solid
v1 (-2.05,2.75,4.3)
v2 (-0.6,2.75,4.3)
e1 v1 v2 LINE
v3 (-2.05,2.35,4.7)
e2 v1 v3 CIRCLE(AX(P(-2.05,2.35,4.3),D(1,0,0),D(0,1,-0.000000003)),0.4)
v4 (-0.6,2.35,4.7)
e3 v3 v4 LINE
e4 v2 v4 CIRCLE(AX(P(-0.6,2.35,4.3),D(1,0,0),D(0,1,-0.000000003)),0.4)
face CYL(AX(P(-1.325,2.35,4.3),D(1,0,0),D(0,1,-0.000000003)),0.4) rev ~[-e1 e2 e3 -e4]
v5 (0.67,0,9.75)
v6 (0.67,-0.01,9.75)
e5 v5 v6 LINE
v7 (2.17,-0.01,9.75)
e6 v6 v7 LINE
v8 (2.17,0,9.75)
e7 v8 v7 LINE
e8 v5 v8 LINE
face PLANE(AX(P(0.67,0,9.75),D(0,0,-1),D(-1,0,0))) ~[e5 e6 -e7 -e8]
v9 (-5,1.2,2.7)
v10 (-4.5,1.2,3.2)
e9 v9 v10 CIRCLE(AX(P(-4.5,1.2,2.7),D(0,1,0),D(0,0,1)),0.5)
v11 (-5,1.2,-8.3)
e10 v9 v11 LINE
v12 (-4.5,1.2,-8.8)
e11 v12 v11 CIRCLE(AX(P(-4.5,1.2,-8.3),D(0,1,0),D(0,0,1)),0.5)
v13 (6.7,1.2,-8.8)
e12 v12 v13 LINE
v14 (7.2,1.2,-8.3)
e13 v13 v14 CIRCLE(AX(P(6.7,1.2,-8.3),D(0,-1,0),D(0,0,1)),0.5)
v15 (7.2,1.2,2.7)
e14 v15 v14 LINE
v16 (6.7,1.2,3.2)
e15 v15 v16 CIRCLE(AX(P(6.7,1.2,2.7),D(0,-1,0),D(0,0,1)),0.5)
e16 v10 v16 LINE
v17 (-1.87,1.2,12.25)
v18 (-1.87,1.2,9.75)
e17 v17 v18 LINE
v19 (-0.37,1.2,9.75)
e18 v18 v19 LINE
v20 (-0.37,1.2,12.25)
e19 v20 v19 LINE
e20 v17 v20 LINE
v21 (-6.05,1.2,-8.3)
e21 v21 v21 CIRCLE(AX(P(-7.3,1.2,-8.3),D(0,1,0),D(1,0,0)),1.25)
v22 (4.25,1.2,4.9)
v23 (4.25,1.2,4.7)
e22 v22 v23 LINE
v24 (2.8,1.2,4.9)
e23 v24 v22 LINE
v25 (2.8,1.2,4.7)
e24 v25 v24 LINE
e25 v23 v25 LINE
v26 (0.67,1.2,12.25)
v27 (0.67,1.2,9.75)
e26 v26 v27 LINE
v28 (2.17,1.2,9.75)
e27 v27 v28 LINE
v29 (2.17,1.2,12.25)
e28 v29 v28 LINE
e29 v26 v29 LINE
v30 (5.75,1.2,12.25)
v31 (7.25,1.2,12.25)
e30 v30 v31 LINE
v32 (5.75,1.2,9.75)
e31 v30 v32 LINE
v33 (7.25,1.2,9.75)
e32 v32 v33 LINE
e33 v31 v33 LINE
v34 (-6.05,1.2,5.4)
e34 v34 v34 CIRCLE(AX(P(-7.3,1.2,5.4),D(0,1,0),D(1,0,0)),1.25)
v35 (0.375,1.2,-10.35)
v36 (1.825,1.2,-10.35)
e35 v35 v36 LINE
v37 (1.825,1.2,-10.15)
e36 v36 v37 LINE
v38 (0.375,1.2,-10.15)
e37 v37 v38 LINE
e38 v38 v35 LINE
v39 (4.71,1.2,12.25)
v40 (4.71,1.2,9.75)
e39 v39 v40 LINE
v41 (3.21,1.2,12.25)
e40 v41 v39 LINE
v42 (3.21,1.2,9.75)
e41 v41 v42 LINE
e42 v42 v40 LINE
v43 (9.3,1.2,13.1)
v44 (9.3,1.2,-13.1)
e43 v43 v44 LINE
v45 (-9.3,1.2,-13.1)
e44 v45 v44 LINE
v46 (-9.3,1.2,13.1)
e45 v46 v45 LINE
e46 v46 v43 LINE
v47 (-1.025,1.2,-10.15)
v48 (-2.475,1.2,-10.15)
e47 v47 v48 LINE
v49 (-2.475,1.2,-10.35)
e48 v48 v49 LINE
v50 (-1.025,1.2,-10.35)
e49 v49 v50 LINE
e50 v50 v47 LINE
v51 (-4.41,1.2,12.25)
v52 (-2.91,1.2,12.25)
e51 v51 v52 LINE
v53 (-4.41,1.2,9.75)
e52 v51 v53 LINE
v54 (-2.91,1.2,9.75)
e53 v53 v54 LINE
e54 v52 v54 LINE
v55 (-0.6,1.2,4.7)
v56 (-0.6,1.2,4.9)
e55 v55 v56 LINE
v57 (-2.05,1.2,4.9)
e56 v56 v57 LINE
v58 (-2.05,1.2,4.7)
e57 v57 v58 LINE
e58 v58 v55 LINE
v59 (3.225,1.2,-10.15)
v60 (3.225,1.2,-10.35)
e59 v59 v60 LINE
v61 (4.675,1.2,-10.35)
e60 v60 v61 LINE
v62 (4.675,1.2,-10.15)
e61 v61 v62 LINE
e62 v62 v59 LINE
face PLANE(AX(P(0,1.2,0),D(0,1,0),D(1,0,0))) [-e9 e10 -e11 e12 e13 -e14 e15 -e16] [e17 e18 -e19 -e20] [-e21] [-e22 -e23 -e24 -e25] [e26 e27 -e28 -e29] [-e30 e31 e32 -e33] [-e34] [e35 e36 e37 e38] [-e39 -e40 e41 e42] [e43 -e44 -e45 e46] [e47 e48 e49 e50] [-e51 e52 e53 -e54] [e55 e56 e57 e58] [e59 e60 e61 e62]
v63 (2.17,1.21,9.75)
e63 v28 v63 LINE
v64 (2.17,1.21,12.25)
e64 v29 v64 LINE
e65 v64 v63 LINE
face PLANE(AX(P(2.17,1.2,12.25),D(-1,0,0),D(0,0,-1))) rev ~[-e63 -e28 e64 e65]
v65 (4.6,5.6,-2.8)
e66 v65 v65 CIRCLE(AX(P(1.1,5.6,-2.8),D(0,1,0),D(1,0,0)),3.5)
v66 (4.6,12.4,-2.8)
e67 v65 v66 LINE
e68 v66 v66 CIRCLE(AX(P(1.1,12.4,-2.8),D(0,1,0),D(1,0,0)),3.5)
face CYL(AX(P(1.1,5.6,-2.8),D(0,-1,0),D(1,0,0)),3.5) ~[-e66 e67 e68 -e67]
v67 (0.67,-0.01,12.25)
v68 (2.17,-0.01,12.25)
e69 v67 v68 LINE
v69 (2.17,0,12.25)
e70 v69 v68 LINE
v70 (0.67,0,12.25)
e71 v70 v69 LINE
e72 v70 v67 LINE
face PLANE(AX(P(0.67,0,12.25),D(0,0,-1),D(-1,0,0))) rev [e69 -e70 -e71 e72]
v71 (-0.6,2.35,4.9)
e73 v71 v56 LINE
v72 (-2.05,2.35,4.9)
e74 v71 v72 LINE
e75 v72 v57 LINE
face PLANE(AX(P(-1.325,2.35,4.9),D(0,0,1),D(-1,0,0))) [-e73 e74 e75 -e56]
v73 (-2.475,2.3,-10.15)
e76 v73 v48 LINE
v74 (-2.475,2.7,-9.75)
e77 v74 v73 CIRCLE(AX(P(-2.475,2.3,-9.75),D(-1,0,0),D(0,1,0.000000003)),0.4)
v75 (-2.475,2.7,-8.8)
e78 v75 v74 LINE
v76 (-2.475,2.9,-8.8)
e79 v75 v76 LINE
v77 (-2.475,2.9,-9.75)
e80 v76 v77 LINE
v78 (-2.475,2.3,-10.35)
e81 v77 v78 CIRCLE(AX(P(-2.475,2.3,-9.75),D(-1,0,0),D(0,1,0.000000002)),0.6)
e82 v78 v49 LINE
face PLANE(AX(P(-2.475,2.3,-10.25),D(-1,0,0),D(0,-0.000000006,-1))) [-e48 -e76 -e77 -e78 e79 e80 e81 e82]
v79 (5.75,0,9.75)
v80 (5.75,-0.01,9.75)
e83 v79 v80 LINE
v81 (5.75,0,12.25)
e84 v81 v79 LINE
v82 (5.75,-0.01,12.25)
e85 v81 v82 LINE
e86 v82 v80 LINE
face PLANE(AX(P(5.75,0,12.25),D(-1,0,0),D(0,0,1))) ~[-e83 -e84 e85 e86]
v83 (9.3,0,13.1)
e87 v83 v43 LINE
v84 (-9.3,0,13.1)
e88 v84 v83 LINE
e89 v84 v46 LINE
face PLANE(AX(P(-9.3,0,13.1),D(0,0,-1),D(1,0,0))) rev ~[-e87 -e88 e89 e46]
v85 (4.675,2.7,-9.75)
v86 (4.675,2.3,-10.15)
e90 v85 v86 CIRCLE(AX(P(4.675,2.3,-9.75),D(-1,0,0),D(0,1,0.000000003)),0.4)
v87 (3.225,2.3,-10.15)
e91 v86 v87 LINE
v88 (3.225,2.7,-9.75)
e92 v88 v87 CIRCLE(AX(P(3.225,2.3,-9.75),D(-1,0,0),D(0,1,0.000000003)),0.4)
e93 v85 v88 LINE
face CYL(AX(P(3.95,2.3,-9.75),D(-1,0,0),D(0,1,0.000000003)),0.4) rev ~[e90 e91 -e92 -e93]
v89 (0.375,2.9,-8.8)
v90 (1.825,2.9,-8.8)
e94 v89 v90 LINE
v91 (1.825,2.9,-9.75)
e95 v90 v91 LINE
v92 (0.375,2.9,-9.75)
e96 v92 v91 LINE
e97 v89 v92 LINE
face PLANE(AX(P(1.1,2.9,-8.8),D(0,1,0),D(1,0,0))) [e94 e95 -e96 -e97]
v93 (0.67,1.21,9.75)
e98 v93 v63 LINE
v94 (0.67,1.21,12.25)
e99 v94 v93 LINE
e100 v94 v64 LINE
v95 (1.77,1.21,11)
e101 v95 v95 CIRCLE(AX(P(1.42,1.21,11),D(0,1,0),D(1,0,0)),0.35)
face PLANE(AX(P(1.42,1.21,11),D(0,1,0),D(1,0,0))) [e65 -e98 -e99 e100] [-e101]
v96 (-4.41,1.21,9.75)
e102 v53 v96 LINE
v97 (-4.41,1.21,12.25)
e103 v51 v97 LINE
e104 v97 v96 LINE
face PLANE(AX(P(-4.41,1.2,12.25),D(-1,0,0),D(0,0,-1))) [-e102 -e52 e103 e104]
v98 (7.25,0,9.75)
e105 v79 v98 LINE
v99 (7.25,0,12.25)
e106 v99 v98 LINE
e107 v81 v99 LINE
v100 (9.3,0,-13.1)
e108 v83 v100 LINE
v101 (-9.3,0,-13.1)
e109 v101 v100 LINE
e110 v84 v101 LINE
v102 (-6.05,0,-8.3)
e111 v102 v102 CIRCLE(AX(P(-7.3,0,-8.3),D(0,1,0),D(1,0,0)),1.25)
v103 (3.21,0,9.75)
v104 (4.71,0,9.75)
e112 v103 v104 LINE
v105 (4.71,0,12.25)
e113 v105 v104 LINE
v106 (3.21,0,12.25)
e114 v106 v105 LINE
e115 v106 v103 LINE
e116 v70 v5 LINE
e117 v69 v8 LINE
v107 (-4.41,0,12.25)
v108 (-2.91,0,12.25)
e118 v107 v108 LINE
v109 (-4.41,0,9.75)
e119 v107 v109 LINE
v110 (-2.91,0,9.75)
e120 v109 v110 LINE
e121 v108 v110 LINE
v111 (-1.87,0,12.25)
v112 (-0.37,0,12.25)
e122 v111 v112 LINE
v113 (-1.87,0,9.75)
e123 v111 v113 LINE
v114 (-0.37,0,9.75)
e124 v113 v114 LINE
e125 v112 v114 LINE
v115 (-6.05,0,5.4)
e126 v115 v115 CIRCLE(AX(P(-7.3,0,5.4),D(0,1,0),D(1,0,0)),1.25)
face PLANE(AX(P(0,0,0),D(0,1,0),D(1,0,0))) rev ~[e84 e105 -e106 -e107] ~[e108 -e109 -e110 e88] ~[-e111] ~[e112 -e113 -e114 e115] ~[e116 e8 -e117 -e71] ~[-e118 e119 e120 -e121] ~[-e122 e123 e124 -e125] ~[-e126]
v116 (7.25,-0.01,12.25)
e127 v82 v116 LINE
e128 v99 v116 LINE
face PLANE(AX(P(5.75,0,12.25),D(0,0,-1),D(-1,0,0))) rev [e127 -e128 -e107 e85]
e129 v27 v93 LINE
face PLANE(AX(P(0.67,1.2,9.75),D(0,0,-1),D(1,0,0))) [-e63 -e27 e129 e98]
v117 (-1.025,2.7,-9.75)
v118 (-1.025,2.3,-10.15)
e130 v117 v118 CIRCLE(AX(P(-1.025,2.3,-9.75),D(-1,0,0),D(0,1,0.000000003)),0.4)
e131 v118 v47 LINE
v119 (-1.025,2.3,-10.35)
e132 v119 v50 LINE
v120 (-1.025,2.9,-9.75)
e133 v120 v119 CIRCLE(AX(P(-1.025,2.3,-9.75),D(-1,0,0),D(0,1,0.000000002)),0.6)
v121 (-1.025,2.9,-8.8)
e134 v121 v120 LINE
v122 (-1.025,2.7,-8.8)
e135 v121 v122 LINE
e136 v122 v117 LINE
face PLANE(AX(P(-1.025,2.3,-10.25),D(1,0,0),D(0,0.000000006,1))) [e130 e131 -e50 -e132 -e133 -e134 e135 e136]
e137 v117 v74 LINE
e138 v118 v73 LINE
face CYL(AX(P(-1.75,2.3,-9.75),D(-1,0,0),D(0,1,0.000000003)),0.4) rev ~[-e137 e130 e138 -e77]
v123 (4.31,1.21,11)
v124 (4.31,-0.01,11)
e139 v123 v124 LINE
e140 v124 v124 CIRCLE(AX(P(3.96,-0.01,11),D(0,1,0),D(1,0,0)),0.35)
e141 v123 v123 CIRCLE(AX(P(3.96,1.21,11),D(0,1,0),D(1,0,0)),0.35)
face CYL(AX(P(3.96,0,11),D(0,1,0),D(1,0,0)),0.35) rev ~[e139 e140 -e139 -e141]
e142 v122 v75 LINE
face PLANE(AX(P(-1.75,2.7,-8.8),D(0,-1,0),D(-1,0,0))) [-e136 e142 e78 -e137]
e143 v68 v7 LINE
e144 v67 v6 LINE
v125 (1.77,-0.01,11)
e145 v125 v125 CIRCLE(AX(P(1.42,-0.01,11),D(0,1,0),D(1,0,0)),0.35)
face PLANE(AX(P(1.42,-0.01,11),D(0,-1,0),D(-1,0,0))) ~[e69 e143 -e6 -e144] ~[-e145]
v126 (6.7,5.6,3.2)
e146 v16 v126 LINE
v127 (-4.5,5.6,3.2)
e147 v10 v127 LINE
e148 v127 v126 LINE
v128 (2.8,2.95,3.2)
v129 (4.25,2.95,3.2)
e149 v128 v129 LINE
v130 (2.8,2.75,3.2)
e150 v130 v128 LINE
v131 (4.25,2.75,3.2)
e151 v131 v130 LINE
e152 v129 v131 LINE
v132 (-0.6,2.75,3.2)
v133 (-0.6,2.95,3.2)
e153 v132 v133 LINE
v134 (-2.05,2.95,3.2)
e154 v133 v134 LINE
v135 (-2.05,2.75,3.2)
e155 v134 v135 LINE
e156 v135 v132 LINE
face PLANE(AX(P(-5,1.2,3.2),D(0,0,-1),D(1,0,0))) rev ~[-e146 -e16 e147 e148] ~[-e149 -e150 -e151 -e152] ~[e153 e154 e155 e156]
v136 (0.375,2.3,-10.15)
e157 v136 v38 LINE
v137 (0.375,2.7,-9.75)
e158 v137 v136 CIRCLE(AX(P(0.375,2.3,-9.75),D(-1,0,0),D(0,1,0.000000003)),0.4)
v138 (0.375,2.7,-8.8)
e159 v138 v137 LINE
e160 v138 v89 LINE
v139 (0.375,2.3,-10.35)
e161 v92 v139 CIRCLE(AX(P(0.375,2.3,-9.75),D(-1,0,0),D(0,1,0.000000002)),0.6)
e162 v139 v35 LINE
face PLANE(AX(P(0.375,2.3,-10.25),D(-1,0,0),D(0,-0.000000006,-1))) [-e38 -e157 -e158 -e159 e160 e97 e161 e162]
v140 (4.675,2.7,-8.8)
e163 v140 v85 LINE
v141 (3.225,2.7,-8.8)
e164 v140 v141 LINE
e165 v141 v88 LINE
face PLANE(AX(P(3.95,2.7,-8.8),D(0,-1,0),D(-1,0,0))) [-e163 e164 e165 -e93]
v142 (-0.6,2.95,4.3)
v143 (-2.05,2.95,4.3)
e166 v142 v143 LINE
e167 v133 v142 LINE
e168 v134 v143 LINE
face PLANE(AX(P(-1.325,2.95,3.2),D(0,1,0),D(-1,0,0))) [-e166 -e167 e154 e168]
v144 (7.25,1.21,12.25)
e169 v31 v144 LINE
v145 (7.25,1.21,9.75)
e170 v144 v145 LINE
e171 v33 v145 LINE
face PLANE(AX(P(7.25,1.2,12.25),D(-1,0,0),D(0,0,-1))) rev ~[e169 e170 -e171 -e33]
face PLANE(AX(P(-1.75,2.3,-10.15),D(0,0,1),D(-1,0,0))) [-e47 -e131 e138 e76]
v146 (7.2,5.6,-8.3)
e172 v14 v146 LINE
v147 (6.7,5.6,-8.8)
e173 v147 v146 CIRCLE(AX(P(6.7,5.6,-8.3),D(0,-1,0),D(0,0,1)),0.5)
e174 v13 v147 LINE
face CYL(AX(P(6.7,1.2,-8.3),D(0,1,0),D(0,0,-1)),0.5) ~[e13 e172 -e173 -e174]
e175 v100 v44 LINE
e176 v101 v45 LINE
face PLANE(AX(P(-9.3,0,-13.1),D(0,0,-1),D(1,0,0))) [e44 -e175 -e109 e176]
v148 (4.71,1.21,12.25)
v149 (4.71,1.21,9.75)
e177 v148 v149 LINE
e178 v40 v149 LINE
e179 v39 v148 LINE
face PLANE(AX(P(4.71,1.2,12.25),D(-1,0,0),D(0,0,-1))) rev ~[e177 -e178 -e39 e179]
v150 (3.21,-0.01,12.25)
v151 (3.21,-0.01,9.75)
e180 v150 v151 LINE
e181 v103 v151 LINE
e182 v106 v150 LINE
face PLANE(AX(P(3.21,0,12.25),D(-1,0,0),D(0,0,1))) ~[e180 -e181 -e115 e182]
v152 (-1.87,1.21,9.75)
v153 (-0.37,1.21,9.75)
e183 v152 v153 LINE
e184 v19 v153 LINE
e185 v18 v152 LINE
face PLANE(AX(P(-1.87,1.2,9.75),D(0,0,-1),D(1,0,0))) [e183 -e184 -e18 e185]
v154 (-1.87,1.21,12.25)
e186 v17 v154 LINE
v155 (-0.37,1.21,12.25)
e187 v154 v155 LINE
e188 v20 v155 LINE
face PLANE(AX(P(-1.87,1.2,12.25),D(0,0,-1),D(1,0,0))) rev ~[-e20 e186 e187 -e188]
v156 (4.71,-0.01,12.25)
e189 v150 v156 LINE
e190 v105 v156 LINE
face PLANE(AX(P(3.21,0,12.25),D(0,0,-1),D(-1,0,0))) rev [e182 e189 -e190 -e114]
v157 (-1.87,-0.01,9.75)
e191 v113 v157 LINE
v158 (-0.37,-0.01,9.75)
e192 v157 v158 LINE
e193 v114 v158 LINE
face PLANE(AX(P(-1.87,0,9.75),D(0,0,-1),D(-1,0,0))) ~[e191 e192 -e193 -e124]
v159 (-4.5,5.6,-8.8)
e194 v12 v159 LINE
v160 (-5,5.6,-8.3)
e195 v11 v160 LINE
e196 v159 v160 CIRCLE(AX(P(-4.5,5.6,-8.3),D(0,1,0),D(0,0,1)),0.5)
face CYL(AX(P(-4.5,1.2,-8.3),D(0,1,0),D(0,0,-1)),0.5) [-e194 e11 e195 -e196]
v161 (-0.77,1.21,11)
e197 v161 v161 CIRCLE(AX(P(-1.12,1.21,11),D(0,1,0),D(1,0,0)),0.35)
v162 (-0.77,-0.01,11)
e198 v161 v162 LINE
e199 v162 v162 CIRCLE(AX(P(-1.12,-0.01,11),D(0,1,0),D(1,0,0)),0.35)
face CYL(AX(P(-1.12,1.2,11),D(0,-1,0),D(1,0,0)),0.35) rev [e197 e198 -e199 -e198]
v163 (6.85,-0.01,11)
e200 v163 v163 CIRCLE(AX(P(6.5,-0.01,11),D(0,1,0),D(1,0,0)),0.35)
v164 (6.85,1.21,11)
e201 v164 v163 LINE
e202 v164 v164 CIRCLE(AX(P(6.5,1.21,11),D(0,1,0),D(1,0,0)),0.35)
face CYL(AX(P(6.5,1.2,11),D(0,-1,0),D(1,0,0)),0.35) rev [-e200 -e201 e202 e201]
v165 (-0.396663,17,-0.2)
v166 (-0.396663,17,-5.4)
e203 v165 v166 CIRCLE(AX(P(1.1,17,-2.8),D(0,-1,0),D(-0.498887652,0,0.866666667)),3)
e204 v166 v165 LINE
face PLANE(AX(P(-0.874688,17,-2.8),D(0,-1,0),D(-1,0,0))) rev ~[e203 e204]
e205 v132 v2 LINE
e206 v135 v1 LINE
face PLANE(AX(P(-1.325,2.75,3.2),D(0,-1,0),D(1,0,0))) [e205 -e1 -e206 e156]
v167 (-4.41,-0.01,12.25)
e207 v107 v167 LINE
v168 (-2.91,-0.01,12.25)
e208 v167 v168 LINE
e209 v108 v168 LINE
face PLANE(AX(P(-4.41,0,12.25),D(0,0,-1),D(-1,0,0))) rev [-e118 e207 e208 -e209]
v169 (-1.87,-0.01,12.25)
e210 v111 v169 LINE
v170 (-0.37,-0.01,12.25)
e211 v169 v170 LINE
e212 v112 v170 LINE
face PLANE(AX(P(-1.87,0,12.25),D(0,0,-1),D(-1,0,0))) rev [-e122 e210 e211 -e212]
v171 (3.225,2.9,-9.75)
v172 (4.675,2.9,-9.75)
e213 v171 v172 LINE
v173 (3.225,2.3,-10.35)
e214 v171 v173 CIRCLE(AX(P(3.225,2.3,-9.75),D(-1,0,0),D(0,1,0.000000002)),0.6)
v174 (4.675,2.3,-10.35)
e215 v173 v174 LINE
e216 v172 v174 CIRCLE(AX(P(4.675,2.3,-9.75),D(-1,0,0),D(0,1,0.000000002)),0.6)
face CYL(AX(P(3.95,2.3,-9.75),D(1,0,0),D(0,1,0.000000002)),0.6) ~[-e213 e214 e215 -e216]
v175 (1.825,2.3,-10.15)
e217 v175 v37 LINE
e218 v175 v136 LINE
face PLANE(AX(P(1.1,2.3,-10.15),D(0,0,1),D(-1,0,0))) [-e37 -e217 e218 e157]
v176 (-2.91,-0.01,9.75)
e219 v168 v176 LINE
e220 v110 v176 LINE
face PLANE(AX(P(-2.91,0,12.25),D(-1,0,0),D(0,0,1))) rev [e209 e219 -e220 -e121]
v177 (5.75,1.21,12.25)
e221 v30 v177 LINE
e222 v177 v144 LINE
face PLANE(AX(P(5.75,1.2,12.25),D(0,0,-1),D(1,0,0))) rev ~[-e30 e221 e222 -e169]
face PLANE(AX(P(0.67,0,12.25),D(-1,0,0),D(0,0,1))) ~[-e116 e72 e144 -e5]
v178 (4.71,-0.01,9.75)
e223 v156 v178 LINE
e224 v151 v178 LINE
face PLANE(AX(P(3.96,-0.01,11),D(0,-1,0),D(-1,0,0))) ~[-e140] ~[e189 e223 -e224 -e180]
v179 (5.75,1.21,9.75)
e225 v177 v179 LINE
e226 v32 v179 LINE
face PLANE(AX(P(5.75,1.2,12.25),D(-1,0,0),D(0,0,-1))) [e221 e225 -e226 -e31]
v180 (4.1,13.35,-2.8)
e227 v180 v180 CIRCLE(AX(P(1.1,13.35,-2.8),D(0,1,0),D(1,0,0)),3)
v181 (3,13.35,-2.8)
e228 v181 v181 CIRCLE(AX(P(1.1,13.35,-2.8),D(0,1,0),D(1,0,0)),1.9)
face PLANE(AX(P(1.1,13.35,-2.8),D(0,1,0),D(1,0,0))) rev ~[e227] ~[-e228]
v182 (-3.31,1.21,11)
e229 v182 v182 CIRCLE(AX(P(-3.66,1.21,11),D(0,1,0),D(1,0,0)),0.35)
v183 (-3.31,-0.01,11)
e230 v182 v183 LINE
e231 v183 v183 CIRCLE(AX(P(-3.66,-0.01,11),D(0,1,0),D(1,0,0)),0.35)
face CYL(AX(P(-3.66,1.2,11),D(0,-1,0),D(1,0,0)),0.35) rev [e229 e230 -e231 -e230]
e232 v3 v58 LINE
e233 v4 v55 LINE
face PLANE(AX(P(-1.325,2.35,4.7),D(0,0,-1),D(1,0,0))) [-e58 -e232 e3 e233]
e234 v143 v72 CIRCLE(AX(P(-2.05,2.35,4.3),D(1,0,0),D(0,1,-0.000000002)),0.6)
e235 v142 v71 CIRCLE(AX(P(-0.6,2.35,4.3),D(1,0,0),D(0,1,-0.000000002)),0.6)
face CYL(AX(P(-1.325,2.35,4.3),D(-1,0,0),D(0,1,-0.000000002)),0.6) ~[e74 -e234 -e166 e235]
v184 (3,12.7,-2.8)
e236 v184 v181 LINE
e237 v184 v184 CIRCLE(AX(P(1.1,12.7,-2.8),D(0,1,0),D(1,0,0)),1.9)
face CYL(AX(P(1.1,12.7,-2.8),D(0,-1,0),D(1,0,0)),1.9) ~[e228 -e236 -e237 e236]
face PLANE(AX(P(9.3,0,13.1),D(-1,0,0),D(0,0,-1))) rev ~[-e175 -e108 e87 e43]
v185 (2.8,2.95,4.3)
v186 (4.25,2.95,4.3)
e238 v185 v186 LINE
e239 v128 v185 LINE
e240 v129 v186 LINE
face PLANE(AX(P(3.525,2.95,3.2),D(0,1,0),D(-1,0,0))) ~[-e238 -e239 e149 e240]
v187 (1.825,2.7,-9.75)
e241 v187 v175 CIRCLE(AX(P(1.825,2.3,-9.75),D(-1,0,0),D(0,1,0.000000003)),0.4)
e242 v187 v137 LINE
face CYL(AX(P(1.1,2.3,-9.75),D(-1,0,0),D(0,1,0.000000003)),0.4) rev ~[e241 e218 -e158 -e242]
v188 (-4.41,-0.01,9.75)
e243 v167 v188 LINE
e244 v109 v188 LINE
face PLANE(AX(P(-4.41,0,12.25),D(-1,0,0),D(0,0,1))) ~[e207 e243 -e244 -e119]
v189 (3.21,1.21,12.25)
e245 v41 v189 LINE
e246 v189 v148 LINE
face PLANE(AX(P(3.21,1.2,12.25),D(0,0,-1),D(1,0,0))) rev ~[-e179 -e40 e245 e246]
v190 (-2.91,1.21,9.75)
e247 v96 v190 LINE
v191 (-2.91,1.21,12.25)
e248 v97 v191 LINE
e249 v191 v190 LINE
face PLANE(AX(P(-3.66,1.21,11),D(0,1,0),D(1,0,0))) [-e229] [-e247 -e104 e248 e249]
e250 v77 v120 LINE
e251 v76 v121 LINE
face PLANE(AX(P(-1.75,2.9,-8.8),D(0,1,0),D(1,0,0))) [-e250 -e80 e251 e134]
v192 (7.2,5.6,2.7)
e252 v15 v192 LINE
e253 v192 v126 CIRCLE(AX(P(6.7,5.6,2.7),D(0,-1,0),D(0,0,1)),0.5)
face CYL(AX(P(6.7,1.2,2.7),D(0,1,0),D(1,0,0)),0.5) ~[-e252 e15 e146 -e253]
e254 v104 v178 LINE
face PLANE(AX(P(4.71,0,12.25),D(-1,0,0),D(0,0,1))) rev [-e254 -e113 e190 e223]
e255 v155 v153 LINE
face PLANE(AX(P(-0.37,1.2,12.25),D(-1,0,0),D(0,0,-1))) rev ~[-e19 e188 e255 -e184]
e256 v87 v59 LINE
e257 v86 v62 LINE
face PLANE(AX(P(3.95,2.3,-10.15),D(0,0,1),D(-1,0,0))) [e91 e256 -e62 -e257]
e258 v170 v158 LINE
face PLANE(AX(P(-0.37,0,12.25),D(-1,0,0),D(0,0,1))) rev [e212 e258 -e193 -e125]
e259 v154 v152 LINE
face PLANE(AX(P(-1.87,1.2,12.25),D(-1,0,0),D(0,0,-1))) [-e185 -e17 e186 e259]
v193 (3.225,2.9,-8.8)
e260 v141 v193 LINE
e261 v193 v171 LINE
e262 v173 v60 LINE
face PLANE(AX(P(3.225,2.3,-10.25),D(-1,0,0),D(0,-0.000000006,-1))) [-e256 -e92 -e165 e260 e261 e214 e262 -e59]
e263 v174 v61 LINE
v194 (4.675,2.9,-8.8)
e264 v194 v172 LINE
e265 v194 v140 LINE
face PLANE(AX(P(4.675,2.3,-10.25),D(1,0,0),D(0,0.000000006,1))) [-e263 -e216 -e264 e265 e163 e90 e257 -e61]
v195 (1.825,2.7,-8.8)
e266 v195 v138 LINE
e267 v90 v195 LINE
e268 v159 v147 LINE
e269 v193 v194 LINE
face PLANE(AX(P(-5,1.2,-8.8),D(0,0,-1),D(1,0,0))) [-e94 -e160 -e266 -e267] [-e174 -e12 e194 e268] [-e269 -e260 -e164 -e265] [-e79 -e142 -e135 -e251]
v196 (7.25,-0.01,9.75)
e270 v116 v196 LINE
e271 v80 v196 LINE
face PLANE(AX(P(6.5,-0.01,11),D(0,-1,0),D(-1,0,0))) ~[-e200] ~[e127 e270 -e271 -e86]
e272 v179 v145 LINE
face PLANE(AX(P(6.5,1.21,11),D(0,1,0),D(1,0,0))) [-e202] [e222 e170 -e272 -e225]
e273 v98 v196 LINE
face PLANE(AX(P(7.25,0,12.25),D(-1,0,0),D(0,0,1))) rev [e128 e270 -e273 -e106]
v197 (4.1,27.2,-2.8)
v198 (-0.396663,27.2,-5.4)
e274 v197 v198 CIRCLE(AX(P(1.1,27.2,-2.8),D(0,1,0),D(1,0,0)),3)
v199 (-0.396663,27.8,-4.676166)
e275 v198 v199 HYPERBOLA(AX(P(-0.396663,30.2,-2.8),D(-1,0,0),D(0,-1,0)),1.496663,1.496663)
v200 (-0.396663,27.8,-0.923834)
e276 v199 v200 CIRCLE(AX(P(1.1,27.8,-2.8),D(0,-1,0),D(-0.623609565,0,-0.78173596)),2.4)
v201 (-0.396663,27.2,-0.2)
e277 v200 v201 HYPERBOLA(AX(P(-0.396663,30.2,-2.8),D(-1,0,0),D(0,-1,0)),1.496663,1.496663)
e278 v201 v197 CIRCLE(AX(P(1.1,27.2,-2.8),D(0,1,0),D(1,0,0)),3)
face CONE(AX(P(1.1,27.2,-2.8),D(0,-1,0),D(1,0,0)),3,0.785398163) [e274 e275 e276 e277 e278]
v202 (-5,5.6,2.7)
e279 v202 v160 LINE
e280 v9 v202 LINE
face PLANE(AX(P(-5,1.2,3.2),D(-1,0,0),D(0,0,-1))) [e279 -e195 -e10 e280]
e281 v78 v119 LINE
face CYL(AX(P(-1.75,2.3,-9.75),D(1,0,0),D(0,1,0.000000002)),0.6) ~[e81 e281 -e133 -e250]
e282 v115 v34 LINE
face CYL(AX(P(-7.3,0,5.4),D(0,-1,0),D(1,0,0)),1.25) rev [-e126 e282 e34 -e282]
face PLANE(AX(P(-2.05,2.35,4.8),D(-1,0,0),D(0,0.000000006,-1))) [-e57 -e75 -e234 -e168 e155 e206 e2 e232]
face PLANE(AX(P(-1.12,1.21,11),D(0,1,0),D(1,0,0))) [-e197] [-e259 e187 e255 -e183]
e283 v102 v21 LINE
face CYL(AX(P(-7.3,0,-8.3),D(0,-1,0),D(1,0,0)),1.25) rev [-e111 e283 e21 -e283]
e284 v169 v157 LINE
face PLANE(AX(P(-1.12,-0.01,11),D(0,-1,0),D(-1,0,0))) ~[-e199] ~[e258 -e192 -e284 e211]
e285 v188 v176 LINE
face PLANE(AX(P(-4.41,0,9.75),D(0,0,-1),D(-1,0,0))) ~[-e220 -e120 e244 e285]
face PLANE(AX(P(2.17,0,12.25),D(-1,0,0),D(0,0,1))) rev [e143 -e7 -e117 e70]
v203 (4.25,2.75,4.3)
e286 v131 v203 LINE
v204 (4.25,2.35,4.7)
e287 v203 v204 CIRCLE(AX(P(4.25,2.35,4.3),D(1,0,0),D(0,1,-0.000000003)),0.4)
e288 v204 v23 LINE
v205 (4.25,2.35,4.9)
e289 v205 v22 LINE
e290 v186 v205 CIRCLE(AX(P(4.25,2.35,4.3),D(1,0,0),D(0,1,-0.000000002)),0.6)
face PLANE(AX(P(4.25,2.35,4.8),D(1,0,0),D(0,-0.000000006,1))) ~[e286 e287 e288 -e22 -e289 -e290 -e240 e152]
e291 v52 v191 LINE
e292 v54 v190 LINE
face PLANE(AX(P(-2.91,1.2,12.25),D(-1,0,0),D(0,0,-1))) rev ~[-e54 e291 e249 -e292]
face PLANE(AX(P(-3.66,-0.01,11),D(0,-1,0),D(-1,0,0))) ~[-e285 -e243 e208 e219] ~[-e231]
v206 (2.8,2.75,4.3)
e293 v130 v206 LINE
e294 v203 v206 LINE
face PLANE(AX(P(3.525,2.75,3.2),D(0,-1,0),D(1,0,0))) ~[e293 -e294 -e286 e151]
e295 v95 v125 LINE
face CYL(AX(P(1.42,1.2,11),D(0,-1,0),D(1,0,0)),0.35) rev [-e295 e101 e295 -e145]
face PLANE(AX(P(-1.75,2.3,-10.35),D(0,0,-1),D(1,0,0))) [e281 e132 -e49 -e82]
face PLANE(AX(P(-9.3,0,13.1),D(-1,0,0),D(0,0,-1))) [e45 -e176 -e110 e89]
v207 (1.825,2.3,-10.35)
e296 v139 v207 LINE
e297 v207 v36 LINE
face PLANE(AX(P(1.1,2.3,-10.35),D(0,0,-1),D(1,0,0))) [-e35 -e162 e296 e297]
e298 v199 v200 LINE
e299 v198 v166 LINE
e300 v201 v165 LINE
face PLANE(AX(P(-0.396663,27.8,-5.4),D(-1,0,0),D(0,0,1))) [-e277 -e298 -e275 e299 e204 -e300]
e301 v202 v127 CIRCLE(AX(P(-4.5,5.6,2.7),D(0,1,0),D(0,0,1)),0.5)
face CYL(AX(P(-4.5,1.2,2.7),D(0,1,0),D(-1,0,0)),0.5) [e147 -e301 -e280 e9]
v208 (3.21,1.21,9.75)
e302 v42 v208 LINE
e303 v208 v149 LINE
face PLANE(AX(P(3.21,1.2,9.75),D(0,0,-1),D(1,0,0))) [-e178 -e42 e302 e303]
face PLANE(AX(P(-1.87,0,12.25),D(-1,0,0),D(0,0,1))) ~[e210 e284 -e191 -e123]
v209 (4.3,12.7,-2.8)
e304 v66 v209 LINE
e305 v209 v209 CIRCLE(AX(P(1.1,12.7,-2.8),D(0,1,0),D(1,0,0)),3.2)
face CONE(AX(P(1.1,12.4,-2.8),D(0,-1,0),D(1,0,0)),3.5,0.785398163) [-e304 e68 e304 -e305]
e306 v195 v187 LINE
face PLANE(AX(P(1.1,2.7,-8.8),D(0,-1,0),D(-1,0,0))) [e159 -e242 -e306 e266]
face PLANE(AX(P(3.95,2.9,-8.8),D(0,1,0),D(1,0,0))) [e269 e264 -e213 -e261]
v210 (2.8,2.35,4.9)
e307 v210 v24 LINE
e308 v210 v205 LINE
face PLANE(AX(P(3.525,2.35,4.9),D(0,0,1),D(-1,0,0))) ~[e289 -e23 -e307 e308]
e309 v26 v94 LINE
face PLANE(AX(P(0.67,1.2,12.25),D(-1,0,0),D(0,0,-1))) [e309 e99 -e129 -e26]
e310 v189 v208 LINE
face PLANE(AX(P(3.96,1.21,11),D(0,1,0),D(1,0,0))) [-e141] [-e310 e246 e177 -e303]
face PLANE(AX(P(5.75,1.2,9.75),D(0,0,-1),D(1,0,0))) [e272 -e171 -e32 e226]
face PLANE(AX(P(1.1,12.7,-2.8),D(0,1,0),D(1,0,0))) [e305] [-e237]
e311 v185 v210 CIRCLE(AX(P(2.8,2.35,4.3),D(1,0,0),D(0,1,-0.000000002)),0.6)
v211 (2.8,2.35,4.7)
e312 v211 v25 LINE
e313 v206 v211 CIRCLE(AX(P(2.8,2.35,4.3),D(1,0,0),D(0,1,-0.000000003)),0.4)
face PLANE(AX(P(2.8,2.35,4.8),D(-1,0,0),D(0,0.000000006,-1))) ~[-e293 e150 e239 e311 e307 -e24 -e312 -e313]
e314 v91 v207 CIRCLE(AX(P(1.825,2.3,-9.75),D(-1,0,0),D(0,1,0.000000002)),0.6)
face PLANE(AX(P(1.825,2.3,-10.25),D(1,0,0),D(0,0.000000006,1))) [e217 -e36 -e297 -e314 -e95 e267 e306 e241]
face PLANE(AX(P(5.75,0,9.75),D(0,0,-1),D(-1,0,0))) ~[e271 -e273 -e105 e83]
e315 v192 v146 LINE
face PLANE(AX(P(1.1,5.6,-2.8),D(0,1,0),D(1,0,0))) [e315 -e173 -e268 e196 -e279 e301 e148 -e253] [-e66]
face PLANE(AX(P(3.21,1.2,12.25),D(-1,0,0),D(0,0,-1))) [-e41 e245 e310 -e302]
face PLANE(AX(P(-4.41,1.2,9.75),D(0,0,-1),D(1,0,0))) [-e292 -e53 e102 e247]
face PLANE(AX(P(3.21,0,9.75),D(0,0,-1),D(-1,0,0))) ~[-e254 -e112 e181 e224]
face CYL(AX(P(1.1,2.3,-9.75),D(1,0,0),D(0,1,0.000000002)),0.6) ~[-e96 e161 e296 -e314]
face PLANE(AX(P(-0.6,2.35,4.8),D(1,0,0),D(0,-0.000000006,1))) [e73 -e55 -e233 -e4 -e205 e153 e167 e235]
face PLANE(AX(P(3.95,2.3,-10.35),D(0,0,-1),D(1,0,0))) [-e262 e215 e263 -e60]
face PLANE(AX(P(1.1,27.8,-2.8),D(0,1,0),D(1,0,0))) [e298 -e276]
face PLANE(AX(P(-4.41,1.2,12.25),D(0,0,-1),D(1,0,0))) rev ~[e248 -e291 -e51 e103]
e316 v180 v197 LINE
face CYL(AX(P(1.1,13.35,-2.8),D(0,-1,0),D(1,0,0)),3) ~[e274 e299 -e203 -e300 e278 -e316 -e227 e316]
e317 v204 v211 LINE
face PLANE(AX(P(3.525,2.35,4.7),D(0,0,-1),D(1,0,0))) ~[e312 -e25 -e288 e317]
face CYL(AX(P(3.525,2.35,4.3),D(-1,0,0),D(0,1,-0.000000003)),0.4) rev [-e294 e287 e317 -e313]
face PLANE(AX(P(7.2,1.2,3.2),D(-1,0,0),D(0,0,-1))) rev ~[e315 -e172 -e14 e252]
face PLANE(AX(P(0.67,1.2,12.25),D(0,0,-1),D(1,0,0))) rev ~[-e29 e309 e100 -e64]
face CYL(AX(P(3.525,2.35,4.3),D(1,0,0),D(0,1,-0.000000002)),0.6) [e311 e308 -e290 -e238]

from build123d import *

# Parameters (mm, degrees)
SKETCH1_W           = 18.6
SKETCH1_H           = 26.2
SKETCH1_R           = 1.25
BOSS_EXTRUDE1_DEPTH = 1.2
SKETCH3_W           = 12.2
SKETCH3_H           = 12
BOSS_EXTRUDE2_DEPTH = 4.4
SKETCH10_W          = 1.45
SKETCH10_H          = 0.2
SKETCH13_W          = 1.45
SKETCH13_H          = 0.2
LPATTERN1_COUNT     = 2
LPATTERN1_PITCH     = 2.85
LPATTERN2_COUNT     = 2
LPATTERN2_PITCH     = 2.85
SKETCH14_R          = 3.5
BOSS_EXTRUDE4_DEPTH = 7.1
CHAMFER1_SIZE       = 0.3
SKETCH15_R          = 1.9
BOSS_EXTRUDE5_DEPTH = 0.65
SKETCH16_R          = 3
BOSS_EXTRUDE6_DEPTH = 14.45
CHAMFER2_SIZE       = 0.6
CUT_EXTRUDE1_DEPTH  = 10.8
SKETCH18_R          = 0.35
CUT_EXTRUDE2_DEPTH  = 1.2
SKETCH19_W          = 1.5
SKETCH19_H          = 2.5
SKETCH19_R          = 0.35
BOSS_EXTRUDE7_DEPTH = 0.01
FILLET1_R           = 0.5


with BuildPart() as part:
    # Sketch1 → Boss-Extrude1 (new body)
    with BuildSketch(Plane(origin=(0, 0, 0), x_dir=(1, 0, 0), z_dir=(0, 1, 0))):
        Rectangle(SKETCH1_W, SKETCH1_H)
        with Locations((-7.3, 8.3)):
            Circle(SKETCH1_R, mode=Mode.SUBTRACT)
        with Locations((-7.3, -5.4)):
            Circle(SKETCH1_R, mode=Mode.SUBTRACT)
    extrude(amount=BOSS_EXTRUDE1_DEPTH)

    # Sketch3 → Boss-Extrude2 (add)
    with BuildSketch(Plane(origin=(0, 1.2, 0), x_dir=(1, 0, 0), z_dir=(0, 1, 0))):
        with Locations((1.1, 2.8)):
            Rectangle(SKETCH3_W, SKETCH3_H)
    extrude(amount=BOSS_EXTRUDE2_DEPTH)

    # Sweep3: sweep along a curve in space
    with BuildLine() as sweep3_path:
        Line((-1.325, 2.85, 3.2), (-1.325, 2.85, 4.3))
        ThreePointArc((-1.325, 2.85, 4.3), (-1.325, 2.703553391, 4.653553391), (-1.325, 2.35, 4.8))
        Line((-1.325, 2.35, 4.8), (-1.325, 1.2, 4.8))
    # Sketch10 → Sweep3 (sweep)
    with BuildSketch(Plane.XY.offset(3.2)):
        with Locations((-1.325, 2.85)):
            Rectangle(SKETCH10_W, SKETCH10_H)
    sweep3 = sweep(path=sweep3_path.line)

    # Mirror2: Sweep3 across plane
    add(sweep3.mirror(Plane.ZY.offset(-1.1)))

    # Sweep4: sweep along a curve in space
    with BuildLine() as sweep4_path:
        Line((1.1, 2.8, -8.8), (1.1, 2.8, -9.75))
        ThreePointArc((1.1, 2.8, -9.75), (1.1, 2.653553391, -10.103553391), (1.1, 2.3, -10.25))
        Line((1.1, 2.3, -10.25), (1.1, 1.2, -10.25))
    # Sketch13 → Sweep4 (sweep)
    with BuildSketch(Plane(origin=(0, 0, -8.8), x_dir=(-1, 0, 0), z_dir=(0, 0, -1))):
        with Locations((-1.1, 2.8)):
            Rectangle(SKETCH13_W, SKETCH13_H)
    sweep4 = sweep(path=sweep4_path.line)

    # LPattern1: Sweep4 ×2
    with Locations(*[(-i * LPATTERN1_PITCH, 0, 0) for i in range(1, LPATTERN1_COUNT)]):
        add(sweep4)

    # LPattern2: Sweep4 ×2
    with Locations(*[(i * LPATTERN2_PITCH, 0, 0) for i in range(1, LPATTERN2_COUNT)]):
        add(sweep4)

    # Sketch14 → Boss-Extrude4 (add)
    with BuildSketch(Plane(origin=(0, 5.6, 0), x_dir=(1, 0, 0), z_dir=(0, 1, 0))):
        with Locations((1.1, 2.8)):
            Circle(SKETCH14_R)
    extrude(amount=BOSS_EXTRUDE4_DEPTH)

    # Chamfer1
    chamfer1_edges = [part.edges().sort_by_distance(p)[0] for p in [
        (-2.4, 12.7, -2.8),
    ]]
    chamfer(chamfer1_edges, length=CHAMFER1_SIZE)

    # Sketch15 → Boss-Extrude5 (add)
    with BuildSketch(Plane(origin=(0, 12.7, 0), x_dir=(1, 0, 0), z_dir=(0, 1, 0))):
        with Locations((1.1, 2.8)):
            Circle(SKETCH15_R)
    extrude(amount=BOSS_EXTRUDE5_DEPTH)

    # Sketch16 → Boss-Extrude6 (add)
    with BuildSketch(Plane(origin=(0, 13.35, 0), x_dir=(1, 0, 0), z_dir=(0, 1, 0))):
        with Locations((1.1, 2.8)):
            Circle(SKETCH16_R)
    extrude(amount=BOSS_EXTRUDE6_DEPTH)

    # Chamfer2
    chamfer2_edges = [part.edges().sort_by_distance(p)[0] for p in [
        (-1.9, 27.8, -2.8),
    ]]
    chamfer(chamfer2_edges, length=CHAMFER2_SIZE)

    # Sketch17 → Cut-Extrude1 (cut)
    with BuildSketch(Plane(origin=(0, 27.8, 0), x_dir=(1, 0, 0), z_dir=(0, 1, 0))):
        with BuildLine():
            Line((-0.396662955, 5.4), (-0.396662955, 0.2))
            ThreePointArc((-0.396662955, 0.2), (-1.9, 2.8), (-0.396662955, 5.4))
        make_face()
    extrude(amount=-CUT_EXTRUDE1_DEPTH, mode=Mode.SUBTRACT)

    # Sketch18 → Cut-Extrude2 (cut)
    with BuildSketch(Plane(origin=(0, 1.2, 0), x_dir=(1, 0, 0), z_dir=(0, 1, 0))):
        with Locations((6.5, -11)):
            Circle(SKETCH18_R)
        with Locations((3.96, -11)):
            Circle(SKETCH18_R)
        with Locations((1.42, -11)):
            Circle(SKETCH18_R)
        with Locations((-1.12, -11)):
            Circle(SKETCH18_R)
        with Locations((-3.66, -11)):
            Circle(SKETCH18_R)
    extrude(amount=-CUT_EXTRUDE2_DEPTH, mode=Mode.SUBTRACT)

    # Sketch19 → Boss-Extrude7 (add)
    with BuildSketch(Plane(origin=(0, 1.2, 0), x_dir=(1, 0, 0), z_dir=(0, 1, 0))):
        with Locations((3.96, -11)):
            Rectangle(SKETCH19_W, SKETCH19_H)
        with Locations((3.96, -11)):
            Circle(SKETCH19_R, mode=Mode.SUBTRACT)
        with Locations((6.5, -11)):
            Rectangle(SKETCH19_W, SKETCH19_H)
        with Locations((6.5, -11)):
            Circle(SKETCH19_R, mode=Mode.SUBTRACT)
        with Locations((1.42, -11)):
            Rectangle(SKETCH19_W, SKETCH19_H)
        with Locations((1.42, -11)):
            Circle(SKETCH19_R, mode=Mode.SUBTRACT)
        with Locations((-1.12, -11)):
            Rectangle(SKETCH19_W, SKETCH19_H)
        with Locations((-1.12, -11)):
            Circle(SKETCH19_R, mode=Mode.SUBTRACT)
        with Locations((-3.66, -11)):
            Rectangle(SKETCH19_W, SKETCH19_H)
        with Locations((-3.66, -11)):
            Circle(SKETCH19_R, mode=Mode.SUBTRACT)
    boss_extrude7 = extrude(amount=BOSS_EXTRUDE7_DEPTH)

    # Mirror3: Boss-Extrude7 across plane
    add(boss_extrude7.mirror(Plane.ZX.offset(0.6)))

    # Fillet1
    fillet1_edges = [part.edges().sort_by_distance(p)[0] for p in [
        (7.2, 3.4, 3.2),
        (7.2, 3.4, -8.8),
        (-5, 3.4, -8.8),
        (-5, 3.4, 3.2),
    ]]
    fillet(fillet1_edges, radius=FILLET1_R)


solid = part.part
